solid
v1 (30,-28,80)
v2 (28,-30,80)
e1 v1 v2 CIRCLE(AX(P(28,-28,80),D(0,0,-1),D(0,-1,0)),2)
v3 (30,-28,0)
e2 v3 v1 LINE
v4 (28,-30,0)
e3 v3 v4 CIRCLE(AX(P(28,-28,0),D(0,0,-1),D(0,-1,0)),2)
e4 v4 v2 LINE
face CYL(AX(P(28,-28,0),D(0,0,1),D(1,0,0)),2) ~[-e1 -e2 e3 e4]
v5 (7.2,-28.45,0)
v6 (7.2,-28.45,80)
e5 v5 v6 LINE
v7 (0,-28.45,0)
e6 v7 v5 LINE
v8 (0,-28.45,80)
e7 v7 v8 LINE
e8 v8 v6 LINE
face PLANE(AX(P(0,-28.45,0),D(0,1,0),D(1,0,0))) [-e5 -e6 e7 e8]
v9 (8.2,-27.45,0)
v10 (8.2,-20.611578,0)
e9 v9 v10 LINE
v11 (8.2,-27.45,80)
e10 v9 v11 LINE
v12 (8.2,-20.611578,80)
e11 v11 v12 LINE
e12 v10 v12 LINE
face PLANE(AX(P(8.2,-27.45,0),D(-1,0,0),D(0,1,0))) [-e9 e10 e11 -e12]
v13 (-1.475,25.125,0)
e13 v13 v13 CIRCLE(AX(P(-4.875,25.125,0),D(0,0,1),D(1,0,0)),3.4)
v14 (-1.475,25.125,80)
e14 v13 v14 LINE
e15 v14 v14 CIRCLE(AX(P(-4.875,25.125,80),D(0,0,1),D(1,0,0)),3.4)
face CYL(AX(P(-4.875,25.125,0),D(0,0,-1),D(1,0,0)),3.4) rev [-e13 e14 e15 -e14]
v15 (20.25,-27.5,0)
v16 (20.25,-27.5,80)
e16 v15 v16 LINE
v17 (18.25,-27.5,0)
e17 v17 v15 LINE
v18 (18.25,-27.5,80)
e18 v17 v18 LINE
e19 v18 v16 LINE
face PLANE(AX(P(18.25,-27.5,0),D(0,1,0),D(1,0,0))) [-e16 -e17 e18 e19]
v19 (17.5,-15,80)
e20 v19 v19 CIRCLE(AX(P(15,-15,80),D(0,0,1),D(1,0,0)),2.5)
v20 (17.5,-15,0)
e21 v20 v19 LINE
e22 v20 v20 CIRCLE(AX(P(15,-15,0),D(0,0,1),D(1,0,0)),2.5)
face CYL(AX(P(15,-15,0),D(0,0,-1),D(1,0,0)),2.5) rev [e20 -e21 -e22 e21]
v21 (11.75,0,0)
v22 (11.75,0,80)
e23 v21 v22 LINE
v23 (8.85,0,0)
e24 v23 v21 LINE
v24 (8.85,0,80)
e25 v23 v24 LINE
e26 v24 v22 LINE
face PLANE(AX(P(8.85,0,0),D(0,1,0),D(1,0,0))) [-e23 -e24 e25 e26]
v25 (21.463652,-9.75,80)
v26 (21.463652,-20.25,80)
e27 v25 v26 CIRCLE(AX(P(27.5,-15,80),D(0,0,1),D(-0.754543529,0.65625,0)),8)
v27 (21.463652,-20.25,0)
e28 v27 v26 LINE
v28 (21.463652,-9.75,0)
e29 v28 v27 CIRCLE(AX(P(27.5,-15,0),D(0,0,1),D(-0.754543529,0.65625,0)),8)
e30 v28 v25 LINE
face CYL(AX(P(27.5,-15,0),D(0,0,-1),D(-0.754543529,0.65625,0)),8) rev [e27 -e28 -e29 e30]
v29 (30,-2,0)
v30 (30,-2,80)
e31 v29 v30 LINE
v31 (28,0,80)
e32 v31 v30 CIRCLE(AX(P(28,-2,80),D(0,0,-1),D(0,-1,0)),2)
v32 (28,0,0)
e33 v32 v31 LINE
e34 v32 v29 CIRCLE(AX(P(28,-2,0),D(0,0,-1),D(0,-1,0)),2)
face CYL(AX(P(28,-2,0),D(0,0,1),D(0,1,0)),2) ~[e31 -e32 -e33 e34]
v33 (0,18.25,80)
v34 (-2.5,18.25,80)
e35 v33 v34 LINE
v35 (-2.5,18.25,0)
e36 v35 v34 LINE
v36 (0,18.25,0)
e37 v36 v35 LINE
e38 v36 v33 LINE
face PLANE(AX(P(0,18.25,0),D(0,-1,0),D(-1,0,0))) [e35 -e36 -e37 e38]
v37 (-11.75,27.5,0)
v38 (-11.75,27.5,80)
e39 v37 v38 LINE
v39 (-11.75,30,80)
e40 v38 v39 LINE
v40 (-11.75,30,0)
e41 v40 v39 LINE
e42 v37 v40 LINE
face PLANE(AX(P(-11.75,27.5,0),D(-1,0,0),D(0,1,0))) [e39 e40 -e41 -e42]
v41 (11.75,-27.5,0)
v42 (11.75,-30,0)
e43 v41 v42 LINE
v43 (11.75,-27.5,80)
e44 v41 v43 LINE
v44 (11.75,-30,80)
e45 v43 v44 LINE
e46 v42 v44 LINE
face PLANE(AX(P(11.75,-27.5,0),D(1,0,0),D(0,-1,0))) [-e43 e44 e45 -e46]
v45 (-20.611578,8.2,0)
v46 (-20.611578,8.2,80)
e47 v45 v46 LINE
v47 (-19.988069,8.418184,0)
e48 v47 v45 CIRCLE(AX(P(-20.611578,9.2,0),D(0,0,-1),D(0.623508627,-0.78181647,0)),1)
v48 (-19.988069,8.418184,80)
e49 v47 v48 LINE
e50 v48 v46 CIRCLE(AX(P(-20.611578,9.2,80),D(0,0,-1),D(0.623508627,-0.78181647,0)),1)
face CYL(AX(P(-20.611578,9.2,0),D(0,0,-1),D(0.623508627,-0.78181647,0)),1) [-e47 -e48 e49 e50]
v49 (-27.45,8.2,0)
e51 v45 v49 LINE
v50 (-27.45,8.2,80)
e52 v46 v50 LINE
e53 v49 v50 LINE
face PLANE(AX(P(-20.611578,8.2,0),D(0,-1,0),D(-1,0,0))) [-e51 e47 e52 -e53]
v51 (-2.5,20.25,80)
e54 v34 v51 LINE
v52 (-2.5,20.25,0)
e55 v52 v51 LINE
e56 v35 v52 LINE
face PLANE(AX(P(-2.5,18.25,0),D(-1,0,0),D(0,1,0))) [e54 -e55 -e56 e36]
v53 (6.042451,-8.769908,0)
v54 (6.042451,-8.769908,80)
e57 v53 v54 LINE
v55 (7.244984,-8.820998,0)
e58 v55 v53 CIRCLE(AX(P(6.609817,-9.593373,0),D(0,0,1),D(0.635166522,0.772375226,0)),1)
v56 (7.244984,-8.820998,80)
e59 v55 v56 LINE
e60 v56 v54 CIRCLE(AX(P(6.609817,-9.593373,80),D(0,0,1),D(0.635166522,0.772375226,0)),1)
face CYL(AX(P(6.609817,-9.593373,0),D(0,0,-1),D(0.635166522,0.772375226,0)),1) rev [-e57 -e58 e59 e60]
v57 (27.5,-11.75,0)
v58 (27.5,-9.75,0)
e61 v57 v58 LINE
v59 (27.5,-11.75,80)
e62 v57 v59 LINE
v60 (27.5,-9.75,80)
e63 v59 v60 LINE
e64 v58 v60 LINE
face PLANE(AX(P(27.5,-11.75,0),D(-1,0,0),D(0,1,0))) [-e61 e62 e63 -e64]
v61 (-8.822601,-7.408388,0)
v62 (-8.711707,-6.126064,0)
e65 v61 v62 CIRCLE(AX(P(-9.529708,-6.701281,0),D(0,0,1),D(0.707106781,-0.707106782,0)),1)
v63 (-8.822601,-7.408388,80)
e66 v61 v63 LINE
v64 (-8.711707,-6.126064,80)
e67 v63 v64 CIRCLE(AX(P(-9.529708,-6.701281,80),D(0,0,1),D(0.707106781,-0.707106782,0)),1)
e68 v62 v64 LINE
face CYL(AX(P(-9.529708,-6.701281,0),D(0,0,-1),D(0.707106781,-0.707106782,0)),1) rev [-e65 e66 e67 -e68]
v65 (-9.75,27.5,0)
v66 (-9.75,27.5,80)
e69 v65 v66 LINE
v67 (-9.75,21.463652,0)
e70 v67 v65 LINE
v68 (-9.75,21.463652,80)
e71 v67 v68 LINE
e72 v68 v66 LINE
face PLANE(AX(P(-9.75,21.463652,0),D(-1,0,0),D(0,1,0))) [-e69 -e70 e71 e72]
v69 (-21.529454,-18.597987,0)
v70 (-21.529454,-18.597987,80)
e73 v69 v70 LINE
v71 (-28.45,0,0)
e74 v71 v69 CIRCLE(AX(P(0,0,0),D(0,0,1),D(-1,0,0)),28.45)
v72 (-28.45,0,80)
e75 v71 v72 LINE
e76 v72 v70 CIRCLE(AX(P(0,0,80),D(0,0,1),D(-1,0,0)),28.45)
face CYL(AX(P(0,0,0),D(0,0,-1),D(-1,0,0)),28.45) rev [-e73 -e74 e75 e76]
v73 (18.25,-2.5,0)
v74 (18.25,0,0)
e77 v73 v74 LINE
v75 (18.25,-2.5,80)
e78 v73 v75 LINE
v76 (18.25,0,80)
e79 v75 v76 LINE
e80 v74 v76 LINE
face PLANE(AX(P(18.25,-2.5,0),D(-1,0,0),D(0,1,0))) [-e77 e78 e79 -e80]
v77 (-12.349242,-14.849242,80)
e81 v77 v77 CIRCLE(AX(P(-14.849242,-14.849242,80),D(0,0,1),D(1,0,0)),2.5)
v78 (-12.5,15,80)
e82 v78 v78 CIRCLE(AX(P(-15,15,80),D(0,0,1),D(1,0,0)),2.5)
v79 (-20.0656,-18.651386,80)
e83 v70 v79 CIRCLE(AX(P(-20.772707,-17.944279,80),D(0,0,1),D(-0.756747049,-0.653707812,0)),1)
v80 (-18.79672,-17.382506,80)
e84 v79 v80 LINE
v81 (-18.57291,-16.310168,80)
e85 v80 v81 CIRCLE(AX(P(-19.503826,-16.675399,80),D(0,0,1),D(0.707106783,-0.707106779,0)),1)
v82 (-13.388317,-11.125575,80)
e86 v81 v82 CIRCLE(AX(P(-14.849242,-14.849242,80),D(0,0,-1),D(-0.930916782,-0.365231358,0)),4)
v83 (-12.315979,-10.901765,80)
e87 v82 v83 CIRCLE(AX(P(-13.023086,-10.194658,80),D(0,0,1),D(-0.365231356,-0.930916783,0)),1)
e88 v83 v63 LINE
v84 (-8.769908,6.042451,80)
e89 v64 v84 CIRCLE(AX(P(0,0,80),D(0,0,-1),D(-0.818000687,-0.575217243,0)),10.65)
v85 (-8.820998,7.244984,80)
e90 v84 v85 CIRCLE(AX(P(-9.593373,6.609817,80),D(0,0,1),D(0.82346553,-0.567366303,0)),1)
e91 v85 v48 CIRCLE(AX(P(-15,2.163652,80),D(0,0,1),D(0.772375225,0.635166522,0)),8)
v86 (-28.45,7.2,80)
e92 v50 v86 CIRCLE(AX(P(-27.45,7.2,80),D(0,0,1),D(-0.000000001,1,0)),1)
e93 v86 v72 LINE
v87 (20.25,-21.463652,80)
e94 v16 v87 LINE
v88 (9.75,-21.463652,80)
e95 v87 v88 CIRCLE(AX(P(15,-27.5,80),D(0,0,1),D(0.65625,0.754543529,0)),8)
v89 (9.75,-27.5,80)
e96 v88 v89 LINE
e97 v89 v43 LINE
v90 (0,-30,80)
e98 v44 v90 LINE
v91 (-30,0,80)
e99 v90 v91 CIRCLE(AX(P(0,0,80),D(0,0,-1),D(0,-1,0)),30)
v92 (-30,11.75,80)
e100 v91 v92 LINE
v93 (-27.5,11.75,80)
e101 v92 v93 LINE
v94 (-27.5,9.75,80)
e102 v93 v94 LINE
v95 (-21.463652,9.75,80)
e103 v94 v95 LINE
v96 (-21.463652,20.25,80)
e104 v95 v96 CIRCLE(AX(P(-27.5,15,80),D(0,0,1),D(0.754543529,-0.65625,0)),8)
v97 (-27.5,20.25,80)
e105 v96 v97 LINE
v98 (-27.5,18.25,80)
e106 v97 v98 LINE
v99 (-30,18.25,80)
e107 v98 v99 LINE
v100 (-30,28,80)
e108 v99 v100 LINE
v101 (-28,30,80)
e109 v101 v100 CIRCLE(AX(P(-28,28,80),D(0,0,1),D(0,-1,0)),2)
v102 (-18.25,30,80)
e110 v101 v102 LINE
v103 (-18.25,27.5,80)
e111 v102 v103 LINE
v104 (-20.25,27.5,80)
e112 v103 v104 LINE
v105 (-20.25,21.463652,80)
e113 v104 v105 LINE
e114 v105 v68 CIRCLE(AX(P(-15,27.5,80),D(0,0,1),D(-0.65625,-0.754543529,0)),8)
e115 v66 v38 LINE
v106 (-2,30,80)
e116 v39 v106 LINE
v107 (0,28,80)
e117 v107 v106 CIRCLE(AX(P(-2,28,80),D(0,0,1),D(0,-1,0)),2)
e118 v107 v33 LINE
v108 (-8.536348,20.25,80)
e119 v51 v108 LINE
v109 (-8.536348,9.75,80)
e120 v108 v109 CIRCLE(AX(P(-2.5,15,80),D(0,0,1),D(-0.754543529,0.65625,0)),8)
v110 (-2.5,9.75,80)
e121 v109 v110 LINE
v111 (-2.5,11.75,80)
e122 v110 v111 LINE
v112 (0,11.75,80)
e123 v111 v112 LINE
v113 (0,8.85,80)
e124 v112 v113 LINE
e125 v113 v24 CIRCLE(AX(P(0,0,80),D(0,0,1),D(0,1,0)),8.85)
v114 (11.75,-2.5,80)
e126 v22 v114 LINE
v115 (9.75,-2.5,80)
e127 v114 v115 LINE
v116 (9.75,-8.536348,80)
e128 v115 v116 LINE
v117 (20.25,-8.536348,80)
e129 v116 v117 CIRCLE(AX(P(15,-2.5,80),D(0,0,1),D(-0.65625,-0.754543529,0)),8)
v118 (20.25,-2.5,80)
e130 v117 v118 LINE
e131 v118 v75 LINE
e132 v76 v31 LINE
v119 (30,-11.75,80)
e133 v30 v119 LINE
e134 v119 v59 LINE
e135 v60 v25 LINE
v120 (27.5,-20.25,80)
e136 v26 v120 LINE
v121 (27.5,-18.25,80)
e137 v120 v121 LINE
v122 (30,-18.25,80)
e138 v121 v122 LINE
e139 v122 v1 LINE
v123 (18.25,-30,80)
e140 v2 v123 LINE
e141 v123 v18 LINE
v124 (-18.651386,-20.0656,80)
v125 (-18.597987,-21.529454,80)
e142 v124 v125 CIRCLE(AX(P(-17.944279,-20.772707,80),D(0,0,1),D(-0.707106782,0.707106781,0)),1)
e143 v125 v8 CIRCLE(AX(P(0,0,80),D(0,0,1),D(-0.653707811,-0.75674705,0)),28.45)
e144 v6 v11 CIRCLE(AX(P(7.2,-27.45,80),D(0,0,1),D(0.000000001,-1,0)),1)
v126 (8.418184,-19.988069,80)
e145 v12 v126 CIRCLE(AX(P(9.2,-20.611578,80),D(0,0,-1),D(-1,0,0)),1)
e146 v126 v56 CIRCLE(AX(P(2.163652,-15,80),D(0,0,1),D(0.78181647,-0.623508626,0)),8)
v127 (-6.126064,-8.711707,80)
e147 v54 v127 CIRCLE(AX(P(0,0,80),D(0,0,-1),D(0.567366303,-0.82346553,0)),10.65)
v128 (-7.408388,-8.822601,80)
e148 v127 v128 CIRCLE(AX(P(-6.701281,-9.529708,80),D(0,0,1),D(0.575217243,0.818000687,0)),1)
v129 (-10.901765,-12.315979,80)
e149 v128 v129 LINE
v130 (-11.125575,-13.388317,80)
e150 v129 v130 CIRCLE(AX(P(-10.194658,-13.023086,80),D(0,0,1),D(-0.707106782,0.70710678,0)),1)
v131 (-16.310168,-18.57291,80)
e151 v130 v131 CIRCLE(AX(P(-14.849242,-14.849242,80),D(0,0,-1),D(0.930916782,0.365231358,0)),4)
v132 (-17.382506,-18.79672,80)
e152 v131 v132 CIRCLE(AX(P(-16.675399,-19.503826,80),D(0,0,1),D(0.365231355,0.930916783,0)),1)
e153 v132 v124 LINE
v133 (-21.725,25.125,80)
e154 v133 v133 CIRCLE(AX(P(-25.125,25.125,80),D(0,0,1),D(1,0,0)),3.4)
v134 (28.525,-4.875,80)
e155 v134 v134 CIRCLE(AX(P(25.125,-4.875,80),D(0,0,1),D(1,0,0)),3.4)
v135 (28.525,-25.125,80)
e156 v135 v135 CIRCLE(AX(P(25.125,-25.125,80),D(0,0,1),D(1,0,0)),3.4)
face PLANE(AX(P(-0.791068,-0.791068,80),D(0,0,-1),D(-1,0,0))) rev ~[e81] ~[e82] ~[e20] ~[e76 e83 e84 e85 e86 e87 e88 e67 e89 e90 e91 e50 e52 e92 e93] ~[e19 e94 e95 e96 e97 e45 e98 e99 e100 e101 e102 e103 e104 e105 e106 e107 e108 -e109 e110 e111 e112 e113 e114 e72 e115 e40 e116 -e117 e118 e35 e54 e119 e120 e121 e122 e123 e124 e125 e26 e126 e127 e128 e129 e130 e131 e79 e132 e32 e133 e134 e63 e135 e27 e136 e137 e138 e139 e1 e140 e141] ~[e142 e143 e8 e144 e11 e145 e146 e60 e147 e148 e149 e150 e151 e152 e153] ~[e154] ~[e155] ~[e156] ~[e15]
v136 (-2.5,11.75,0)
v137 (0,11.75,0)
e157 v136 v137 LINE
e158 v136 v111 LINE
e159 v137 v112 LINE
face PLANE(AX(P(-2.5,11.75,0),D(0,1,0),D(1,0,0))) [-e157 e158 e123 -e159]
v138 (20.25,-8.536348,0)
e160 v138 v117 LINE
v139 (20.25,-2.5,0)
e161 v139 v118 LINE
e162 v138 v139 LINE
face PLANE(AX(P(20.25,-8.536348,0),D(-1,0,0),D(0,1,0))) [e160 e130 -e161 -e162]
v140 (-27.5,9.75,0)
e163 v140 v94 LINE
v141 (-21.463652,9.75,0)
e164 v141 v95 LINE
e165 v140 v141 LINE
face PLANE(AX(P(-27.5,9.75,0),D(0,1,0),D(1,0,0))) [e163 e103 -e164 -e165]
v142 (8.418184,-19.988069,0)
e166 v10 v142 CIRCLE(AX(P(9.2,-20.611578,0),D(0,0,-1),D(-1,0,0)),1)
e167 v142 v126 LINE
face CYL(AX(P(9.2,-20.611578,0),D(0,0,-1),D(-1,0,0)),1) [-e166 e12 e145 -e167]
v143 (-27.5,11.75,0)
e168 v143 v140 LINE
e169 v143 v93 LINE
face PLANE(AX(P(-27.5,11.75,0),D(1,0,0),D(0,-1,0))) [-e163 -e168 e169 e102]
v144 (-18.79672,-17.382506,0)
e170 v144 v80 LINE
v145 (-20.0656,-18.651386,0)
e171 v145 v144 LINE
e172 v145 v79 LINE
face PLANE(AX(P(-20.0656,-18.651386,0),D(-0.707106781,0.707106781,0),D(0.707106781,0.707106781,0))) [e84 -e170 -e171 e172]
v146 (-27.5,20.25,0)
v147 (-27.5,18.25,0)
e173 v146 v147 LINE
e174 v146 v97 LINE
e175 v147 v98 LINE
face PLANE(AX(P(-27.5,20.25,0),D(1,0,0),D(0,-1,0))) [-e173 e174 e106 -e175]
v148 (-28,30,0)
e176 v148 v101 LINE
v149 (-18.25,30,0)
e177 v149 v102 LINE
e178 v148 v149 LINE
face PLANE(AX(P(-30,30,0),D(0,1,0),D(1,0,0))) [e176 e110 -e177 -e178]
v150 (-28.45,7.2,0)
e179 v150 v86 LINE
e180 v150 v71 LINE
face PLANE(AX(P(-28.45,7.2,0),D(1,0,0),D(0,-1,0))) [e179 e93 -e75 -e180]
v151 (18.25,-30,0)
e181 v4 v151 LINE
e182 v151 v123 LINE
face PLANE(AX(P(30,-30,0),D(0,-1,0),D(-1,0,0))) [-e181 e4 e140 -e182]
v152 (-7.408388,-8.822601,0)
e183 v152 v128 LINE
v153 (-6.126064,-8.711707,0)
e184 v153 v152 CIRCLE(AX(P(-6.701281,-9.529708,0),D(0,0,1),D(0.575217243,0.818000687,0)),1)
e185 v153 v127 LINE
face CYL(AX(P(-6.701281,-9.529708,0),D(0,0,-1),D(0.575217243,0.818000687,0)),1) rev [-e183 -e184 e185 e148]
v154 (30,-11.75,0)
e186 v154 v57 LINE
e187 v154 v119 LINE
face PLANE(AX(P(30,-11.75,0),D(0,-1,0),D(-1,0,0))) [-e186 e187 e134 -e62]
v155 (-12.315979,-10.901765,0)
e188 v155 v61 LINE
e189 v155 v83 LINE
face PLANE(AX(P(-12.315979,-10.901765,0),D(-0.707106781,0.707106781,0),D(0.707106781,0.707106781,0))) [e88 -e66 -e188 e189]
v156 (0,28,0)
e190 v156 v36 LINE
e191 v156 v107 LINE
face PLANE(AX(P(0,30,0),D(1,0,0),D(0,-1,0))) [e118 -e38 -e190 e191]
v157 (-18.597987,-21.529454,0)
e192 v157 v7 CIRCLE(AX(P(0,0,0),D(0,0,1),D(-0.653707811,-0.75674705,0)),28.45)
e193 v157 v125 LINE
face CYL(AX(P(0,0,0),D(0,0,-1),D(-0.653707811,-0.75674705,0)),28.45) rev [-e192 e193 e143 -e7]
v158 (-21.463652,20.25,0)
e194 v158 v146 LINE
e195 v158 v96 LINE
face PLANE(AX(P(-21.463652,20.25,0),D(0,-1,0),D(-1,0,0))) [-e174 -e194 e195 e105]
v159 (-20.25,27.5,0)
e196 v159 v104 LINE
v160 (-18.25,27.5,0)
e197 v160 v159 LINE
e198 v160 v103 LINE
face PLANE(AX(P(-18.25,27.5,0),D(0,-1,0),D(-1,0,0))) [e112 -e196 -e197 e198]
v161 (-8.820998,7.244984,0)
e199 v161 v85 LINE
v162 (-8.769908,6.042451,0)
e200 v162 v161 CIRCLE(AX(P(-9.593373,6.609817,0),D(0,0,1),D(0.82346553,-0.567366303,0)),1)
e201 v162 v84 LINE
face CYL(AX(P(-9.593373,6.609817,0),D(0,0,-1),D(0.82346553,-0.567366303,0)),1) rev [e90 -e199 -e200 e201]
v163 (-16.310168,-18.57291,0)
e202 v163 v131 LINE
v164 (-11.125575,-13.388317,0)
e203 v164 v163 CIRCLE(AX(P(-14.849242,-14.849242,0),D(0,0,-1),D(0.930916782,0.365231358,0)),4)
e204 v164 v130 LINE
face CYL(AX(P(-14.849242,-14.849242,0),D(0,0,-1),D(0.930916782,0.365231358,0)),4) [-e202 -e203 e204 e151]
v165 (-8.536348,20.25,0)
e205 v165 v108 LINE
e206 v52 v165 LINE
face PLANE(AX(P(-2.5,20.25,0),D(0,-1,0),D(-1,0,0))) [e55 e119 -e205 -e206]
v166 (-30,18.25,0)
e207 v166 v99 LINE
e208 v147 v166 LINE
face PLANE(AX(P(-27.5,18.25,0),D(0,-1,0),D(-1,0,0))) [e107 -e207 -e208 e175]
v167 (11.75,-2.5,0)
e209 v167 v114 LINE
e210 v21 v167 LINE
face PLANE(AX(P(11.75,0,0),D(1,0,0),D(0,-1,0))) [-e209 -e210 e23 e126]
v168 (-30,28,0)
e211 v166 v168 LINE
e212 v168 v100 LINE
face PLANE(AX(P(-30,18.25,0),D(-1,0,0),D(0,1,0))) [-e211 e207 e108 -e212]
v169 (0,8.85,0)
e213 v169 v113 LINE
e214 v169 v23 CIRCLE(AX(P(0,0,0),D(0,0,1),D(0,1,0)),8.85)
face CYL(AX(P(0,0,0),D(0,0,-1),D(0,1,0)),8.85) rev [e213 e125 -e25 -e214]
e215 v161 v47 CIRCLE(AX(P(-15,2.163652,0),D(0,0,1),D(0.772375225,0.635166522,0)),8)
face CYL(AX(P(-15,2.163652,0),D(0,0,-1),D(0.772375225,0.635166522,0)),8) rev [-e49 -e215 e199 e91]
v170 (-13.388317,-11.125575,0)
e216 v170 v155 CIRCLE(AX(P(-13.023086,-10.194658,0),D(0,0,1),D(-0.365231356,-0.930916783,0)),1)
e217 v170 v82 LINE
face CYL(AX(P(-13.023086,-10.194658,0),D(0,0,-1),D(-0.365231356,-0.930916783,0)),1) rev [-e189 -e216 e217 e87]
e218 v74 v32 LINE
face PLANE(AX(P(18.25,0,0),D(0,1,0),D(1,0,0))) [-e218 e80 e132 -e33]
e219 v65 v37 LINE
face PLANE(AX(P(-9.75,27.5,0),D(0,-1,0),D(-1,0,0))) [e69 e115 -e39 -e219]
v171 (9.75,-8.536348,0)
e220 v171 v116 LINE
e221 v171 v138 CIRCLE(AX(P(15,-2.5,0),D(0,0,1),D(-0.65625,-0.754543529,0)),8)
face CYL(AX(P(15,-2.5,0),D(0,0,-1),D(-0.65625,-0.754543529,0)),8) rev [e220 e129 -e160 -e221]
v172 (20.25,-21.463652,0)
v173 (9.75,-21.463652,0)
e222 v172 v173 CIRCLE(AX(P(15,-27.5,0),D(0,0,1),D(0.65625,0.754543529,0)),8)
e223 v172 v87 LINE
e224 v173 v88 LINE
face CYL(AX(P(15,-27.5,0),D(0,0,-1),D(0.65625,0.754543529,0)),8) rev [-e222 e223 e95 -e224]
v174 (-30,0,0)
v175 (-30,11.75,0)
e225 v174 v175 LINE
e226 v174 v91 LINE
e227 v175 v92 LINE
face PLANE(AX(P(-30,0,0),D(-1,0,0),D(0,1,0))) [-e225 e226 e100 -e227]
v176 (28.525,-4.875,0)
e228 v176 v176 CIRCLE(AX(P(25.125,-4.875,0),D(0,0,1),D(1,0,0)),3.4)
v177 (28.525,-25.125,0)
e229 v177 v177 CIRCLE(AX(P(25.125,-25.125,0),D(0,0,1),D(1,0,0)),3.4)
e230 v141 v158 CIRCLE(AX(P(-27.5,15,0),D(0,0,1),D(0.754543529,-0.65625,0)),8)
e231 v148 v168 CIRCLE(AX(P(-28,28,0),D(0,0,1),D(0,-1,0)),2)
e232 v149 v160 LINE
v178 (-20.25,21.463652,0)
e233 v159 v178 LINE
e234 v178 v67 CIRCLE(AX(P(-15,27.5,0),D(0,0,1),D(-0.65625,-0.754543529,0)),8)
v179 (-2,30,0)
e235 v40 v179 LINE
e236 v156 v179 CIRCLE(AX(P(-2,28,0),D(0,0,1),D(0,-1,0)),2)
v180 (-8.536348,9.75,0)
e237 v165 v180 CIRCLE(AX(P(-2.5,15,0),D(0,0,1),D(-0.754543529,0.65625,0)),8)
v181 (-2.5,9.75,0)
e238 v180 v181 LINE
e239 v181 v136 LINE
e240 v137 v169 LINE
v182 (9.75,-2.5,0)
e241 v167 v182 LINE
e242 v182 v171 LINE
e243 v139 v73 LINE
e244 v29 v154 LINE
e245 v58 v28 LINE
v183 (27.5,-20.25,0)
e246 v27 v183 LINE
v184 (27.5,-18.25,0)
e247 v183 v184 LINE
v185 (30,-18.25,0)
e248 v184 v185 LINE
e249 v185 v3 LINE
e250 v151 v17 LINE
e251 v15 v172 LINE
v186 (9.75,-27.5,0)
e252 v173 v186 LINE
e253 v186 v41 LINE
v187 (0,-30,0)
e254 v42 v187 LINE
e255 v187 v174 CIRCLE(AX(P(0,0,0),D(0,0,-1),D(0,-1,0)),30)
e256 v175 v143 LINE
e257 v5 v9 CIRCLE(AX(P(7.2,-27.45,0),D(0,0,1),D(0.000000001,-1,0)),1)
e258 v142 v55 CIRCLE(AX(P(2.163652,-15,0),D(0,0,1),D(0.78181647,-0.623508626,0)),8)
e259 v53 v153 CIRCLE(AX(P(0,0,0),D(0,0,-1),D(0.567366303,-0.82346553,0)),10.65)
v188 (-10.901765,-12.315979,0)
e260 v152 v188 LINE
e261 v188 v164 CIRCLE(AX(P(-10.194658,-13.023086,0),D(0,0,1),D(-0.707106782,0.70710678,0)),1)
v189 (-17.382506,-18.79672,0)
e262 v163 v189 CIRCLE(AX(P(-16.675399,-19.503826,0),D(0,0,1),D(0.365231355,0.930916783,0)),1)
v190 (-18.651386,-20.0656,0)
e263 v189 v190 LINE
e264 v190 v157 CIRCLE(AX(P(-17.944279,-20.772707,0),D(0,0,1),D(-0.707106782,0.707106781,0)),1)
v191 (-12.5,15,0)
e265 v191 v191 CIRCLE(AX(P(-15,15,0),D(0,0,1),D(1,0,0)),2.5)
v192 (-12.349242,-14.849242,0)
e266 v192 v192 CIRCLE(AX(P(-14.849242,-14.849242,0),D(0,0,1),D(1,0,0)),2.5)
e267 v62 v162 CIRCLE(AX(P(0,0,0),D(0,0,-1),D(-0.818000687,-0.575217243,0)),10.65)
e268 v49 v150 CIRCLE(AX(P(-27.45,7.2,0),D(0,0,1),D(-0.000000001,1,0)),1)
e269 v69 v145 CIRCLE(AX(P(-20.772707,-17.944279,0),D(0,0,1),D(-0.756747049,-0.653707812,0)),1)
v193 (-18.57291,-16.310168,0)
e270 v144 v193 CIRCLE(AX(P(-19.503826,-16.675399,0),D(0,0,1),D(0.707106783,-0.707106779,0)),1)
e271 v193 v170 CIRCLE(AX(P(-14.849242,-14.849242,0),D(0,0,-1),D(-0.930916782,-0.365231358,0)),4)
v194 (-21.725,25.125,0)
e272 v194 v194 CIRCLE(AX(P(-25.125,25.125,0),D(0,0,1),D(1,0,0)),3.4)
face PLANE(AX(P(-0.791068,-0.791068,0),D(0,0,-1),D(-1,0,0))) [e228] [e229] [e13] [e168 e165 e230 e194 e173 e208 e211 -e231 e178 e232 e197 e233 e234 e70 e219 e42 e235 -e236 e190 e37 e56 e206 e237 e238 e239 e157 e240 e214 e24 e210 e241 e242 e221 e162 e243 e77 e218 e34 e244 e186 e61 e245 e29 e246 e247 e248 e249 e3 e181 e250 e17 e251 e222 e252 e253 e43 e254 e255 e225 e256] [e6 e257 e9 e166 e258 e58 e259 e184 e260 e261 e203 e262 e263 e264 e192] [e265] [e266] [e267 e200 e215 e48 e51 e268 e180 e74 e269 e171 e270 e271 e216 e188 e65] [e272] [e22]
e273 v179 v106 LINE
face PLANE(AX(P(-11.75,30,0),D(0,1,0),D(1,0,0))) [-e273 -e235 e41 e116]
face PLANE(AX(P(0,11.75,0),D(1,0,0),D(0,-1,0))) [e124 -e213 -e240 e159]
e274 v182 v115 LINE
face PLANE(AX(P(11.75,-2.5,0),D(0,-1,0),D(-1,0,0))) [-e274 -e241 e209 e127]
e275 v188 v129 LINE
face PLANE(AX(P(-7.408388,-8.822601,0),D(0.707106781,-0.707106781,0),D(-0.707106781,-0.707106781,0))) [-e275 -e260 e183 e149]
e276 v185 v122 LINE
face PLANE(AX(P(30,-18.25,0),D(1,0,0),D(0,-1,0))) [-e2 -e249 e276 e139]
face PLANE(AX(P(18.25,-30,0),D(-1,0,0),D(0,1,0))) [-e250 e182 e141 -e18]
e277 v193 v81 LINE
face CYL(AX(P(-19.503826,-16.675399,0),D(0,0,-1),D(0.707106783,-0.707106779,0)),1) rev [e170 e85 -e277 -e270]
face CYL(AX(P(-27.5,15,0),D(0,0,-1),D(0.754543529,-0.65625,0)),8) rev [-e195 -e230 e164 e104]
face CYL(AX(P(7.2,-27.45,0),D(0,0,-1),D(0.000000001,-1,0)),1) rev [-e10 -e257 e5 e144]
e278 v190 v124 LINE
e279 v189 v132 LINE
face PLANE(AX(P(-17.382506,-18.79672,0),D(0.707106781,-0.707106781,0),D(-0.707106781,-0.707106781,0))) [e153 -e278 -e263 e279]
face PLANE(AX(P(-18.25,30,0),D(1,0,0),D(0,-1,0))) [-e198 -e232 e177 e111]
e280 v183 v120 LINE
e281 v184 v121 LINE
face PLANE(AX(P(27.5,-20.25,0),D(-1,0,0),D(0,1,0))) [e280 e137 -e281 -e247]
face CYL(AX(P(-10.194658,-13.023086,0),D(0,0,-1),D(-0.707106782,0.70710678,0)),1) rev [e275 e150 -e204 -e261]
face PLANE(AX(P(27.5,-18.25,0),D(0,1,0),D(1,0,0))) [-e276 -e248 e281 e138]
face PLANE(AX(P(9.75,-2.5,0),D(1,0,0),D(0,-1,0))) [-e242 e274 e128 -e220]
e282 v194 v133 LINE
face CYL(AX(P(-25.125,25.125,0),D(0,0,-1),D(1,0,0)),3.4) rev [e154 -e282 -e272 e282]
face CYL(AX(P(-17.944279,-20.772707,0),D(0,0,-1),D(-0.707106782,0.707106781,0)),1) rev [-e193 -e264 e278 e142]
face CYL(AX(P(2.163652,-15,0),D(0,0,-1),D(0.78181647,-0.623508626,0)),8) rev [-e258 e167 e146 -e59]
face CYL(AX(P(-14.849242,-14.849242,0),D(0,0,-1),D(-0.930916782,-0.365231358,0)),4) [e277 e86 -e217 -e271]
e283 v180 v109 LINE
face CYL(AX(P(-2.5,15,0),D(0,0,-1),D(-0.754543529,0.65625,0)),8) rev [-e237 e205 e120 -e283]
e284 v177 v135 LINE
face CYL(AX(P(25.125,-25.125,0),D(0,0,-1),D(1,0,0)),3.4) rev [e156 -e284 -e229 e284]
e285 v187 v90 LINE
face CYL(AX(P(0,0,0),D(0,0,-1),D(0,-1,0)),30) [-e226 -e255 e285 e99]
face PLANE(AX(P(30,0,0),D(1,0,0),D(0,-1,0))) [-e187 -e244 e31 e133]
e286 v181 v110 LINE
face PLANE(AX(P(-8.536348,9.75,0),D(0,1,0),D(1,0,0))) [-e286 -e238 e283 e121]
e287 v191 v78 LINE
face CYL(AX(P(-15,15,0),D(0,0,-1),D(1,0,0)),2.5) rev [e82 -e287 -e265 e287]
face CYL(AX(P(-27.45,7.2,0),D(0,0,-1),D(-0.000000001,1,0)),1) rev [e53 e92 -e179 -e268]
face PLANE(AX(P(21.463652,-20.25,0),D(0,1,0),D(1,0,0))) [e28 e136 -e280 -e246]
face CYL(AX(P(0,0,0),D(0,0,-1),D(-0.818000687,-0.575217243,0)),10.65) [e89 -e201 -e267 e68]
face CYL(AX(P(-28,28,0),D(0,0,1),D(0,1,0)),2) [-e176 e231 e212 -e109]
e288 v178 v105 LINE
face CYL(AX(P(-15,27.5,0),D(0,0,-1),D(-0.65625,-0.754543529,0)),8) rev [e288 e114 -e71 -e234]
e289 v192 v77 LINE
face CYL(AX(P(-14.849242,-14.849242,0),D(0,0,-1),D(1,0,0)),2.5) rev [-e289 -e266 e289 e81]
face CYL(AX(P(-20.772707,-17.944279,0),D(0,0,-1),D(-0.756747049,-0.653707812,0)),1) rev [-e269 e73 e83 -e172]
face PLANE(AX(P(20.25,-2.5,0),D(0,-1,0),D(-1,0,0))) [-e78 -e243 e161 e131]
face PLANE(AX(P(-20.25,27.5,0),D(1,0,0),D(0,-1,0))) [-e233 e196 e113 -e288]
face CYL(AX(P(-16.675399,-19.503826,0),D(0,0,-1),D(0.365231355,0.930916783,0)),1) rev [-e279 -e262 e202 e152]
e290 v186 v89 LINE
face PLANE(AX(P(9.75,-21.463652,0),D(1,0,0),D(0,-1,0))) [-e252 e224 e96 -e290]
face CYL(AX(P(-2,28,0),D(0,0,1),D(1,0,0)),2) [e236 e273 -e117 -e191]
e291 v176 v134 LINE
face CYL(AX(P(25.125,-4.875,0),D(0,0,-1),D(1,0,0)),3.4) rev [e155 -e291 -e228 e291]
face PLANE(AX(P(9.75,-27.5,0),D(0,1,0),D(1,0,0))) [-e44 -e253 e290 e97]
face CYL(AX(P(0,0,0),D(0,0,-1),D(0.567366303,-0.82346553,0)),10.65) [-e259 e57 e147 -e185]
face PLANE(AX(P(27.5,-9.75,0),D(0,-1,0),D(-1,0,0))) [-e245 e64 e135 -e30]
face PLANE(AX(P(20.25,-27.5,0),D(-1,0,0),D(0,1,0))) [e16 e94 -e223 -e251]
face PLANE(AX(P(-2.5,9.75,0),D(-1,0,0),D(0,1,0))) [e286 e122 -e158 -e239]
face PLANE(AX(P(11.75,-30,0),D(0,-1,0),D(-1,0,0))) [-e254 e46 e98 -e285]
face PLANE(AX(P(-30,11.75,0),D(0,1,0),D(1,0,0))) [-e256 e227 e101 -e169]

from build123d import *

# Parameters (mm, degrees)
IZIM1_R                     = 3.4
IZIM1_R_2                   = 2.5
Y_KSEKLIK_EKSTR_ZYON1_DEPTH = 80
FILLET1_R                   = 2


with BuildPart() as part:
    # Çizim1 → Yükseklik-Ekstrüzyon1 (new body)
    with BuildSketch(Plane.XY):
        with BuildLine():
            Line((18.25, 0), (30, 0))
            Line((30, 0), (30, -11.75))
            Line((30, -11.75), (27.5, -11.75))
            Line((27.5, -11.75), (27.5, -9.75))
            Line((27.5, -9.75), (21.463651766, -9.75))
            ThreePointArc((21.463651766, -9.75), (19.5, -15), (21.463651766, -20.25))
            Line((21.463651766, -20.25), (27.5, -20.25))
            Line((27.5, -20.25), (27.5, -18.25))
            Line((27.5, -18.25), (30, -18.25))
            Line((30, -18.25), (30, -30))
            Line((30, -30), (18.25, -30))
            Line((18.25, -30), (18.25, -27.5))
            Line((18.25, -27.5), (20.25, -27.5))
            Line((20.25, -27.5), (20.25, -21.463651766))
            ThreePointArc((20.25, -21.463651766), (15, -19.5), (9.75, -21.463651766))
            Line((9.75, -21.463651766), (9.75, -27.5))
            Line((9.75, -27.5), (11.75, -27.5))
            Line((11.75, -27.5), (11.75, -30))
            Line((11.75, -30), (0, -30))
            ThreePointArc((0, -30), (-21.213203436, -21.213203436), (-30, 0))
            Line((-30, 0), (-30, 11.75))
            Line((-30, 11.75), (-27.5, 11.75))
            Line((-27.5, 11.75), (-27.5, 9.75))
            Line((-27.5, 9.75), (-21.463651766, 9.75))
            ThreePointArc((-21.463651766, 9.75), (-19.5, 15), (-21.463651766, 20.25))
            Line((-21.463651766, 20.25), (-27.5, 20.25))
            Line((-27.5, 20.25), (-27.5, 18.25))
            Line((-27.5, 18.25), (-30, 18.25))
            Line((-30, 18.25), (-30, 30))
            Line((-30, 30), (-18.25, 30))
            Line((-18.25, 30), (-18.25, 27.5))
            Line((-18.25, 27.5), (-20.25, 27.5))
            Line((-20.25, 27.5), (-20.25, 21.463651766))
            ThreePointArc((-20.25, 21.463651766), (-15, 19.5), (-9.75, 21.463651766))
            Line((-9.75, 21.463651766), (-9.75, 27.5))
            Line((-9.75, 27.5), (-11.75, 27.5))
            Line((-11.75, 27.5), (-11.75, 30))
            Line((-11.75, 30), (0, 30))
            Line((0, 30), (0, 18.25))
            Line((0, 18.25), (-2.5, 18.25))
            Line((-2.5, 18.25), (-2.5, 20.25))
            Line((-2.5, 20.25), (-8.536348234, 20.25))
            ThreePointArc((-8.536348234, 20.25), (-10.5, 15), (-8.536348234, 9.75))
            Line((-8.536348234, 9.75), (-2.5, 9.75))
            Line((-2.5, 9.75), (-2.5, 11.75))
            Line((-2.5, 11.75), (0, 11.75))
            Line((0, 11.75), (0, 8.85))
            ThreePointArc((0, 8.85), (-6.257895014, -6.257895014), (8.85, 0))
            Line((8.85, 0), (11.75, 0))
            Line((11.75, 0), (11.75, -2.5))
            Line((11.75, -2.5), (9.75, -2.5))
            Line((9.75, -2.5), (9.75, -8.536348234))
            ThreePointArc((9.75, -8.536348234), (15, -10.5), (20.25, -8.536348234))
            Line((20.25, -8.536348234), (20.25, -2.5))
            Line((20.25, -2.5), (18.25, -2.5))
            Line((18.25, -2.5), (18.25, 0))
        make_face()
        with Locations((25.125, -4.875)):
            Circle(IZIM1_R, mode=Mode.SUBTRACT)
        with Locations((25.125, -25.125)):
            Circle(IZIM1_R, mode=Mode.SUBTRACT)
        with Locations((15, -15)):
            Circle(IZIM1_R_2, mode=Mode.SUBTRACT)
        with Locations((-14.849242405, -14.849242405)):
            Circle(IZIM1_R_2, mode=Mode.SUBTRACT)
        with Locations((-4.875, 25.125)):
            Circle(IZIM1_R, mode=Mode.SUBTRACT)
        with Locations((-25.125, 25.125)):
            Circle(IZIM1_R, mode=Mode.SUBTRACT)
        with Locations((-15, 15)):
            Circle(IZIM1_R_2, mode=Mode.SUBTRACT)
        with BuildLine():
            Line((-17.382505973, -18.796719535), (-18.651386187, -20.065599749))
            ThreePointArc((-18.651386187, -20.065599749), (-18.943614734, -20.809160633), (-18.597987217, -21.529453581))
            ThreePointArc((-18.597987217, -21.529453581), (-9.921933925, -26.663790563), (0, -28.45))
            Line((0, -28.45), (7.2, -28.45))
            ThreePointArc((7.2, -28.45), (7.907106781, -28.157106781), (8.2, -27.45))
            Line((8.2, -27.45), (8.2, -20.611577633))
            ThreePointArc((8.2, -20.611577633), (8.256120646, -20.281287208), (8.41818353, -19.988069007))
            ThreePointArc((8.41818353, -19.988069007), (10.119864462, -14.164129468), (7.244983946, -8.820998197))
            ThreePointArc((7.244983946, -8.820998197), (6.652264712, -8.594274715), (6.042451121, -8.769907893))
            ThreePointArc((6.042451121, -8.769907893), (-0.050937117, -10.649878188), (-6.126063635, -8.711707315))
            ThreePointArc((-6.126063635, -8.711707315), (-6.787438159, -8.533426454), (-7.408387658, -8.822601221))
            Line((-7.408387658, -8.822601221), (-10.901765275, -12.315978837))
            ThreePointArc((-10.901765275, -12.315978837), (-11.173564806, -12.818775974), (-11.125575276, -13.388316975))
            ThreePointArc((-11.125575276, -13.388316975), (-12.02081528, -17.67766953), (-16.310167834, -18.572909534))
            ThreePointArc((-16.310167834, -18.572909534), (-16.879708835, -18.524920004), (-17.382505973, -18.796719535))
        make_face(mode=Mode.SUBTRACT)
        with BuildLine():
            Line((-12.315978837, -10.901765275), (-8.822601221, -7.408387658))
            ThreePointArc((-8.822601221, -7.408387658), (-8.533426454, -6.787438159), (-8.711707315, -6.126063635))
            ThreePointArc((-8.711707315, -6.126063635), (-10.649878188, -0.050937117), (-8.769907893, 6.042451121))
            ThreePointArc((-8.769907893, 6.042451121), (-8.594274715, 6.652264712), (-8.820998197, 7.244983946))
            ThreePointArc((-8.820998197, 7.244983946), (-14.164129468, 10.119864462), (-19.988069007, 8.41818353))
            ThreePointArc((-19.988069007, 8.41818353), (-20.281287208, 8.256120646), (-20.611577633, 8.2))
            Line((-20.611577633, 8.2), (-27.45, 8.2))
            ThreePointArc((-27.45, 8.2), (-28.157106781, 7.907106781), (-28.45, 7.2))
            Line((-28.45, 7.2), (-28.45, 0))
            ThreePointArc((-28.45, 0), (-26.663790563, -9.921933925), (-21.529453581, -18.597987217))
            ThreePointArc((-21.529453581, -18.597987217), (-20.809160633, -18.943614734), (-20.065599749, -18.651386187))
            Line((-20.065599749, -18.651386187), (-18.796719535, -17.382505973))
            ThreePointArc((-18.796719535, -17.382505973), (-18.524920004, -16.879708835), (-18.572909534, -16.310167834))
            ThreePointArc((-18.572909534, -16.310167834), (-17.67766953, -12.02081528), (-13.388316975, -11.125575276))
            ThreePointArc((-13.388316975, -11.125575276), (-12.818775974, -11.173564806), (-12.315978837, -10.901765275))
        make_face(mode=Mode.SUBTRACT)
    extrude(amount=Y_KSEKLIK_EKSTR_ZYON1_DEPTH)

    # Fillet1
    fillet1_edges = [part.edges().sort_by_distance(p)[0] for p in [
        (-30, 30, 40),
        (0, 30, 40),
        (30, 0, 40),
        (30, -30, 40),
    ]]
    fillet(fillet1_edges, radius=FILLET1_R)


solid = part.part
